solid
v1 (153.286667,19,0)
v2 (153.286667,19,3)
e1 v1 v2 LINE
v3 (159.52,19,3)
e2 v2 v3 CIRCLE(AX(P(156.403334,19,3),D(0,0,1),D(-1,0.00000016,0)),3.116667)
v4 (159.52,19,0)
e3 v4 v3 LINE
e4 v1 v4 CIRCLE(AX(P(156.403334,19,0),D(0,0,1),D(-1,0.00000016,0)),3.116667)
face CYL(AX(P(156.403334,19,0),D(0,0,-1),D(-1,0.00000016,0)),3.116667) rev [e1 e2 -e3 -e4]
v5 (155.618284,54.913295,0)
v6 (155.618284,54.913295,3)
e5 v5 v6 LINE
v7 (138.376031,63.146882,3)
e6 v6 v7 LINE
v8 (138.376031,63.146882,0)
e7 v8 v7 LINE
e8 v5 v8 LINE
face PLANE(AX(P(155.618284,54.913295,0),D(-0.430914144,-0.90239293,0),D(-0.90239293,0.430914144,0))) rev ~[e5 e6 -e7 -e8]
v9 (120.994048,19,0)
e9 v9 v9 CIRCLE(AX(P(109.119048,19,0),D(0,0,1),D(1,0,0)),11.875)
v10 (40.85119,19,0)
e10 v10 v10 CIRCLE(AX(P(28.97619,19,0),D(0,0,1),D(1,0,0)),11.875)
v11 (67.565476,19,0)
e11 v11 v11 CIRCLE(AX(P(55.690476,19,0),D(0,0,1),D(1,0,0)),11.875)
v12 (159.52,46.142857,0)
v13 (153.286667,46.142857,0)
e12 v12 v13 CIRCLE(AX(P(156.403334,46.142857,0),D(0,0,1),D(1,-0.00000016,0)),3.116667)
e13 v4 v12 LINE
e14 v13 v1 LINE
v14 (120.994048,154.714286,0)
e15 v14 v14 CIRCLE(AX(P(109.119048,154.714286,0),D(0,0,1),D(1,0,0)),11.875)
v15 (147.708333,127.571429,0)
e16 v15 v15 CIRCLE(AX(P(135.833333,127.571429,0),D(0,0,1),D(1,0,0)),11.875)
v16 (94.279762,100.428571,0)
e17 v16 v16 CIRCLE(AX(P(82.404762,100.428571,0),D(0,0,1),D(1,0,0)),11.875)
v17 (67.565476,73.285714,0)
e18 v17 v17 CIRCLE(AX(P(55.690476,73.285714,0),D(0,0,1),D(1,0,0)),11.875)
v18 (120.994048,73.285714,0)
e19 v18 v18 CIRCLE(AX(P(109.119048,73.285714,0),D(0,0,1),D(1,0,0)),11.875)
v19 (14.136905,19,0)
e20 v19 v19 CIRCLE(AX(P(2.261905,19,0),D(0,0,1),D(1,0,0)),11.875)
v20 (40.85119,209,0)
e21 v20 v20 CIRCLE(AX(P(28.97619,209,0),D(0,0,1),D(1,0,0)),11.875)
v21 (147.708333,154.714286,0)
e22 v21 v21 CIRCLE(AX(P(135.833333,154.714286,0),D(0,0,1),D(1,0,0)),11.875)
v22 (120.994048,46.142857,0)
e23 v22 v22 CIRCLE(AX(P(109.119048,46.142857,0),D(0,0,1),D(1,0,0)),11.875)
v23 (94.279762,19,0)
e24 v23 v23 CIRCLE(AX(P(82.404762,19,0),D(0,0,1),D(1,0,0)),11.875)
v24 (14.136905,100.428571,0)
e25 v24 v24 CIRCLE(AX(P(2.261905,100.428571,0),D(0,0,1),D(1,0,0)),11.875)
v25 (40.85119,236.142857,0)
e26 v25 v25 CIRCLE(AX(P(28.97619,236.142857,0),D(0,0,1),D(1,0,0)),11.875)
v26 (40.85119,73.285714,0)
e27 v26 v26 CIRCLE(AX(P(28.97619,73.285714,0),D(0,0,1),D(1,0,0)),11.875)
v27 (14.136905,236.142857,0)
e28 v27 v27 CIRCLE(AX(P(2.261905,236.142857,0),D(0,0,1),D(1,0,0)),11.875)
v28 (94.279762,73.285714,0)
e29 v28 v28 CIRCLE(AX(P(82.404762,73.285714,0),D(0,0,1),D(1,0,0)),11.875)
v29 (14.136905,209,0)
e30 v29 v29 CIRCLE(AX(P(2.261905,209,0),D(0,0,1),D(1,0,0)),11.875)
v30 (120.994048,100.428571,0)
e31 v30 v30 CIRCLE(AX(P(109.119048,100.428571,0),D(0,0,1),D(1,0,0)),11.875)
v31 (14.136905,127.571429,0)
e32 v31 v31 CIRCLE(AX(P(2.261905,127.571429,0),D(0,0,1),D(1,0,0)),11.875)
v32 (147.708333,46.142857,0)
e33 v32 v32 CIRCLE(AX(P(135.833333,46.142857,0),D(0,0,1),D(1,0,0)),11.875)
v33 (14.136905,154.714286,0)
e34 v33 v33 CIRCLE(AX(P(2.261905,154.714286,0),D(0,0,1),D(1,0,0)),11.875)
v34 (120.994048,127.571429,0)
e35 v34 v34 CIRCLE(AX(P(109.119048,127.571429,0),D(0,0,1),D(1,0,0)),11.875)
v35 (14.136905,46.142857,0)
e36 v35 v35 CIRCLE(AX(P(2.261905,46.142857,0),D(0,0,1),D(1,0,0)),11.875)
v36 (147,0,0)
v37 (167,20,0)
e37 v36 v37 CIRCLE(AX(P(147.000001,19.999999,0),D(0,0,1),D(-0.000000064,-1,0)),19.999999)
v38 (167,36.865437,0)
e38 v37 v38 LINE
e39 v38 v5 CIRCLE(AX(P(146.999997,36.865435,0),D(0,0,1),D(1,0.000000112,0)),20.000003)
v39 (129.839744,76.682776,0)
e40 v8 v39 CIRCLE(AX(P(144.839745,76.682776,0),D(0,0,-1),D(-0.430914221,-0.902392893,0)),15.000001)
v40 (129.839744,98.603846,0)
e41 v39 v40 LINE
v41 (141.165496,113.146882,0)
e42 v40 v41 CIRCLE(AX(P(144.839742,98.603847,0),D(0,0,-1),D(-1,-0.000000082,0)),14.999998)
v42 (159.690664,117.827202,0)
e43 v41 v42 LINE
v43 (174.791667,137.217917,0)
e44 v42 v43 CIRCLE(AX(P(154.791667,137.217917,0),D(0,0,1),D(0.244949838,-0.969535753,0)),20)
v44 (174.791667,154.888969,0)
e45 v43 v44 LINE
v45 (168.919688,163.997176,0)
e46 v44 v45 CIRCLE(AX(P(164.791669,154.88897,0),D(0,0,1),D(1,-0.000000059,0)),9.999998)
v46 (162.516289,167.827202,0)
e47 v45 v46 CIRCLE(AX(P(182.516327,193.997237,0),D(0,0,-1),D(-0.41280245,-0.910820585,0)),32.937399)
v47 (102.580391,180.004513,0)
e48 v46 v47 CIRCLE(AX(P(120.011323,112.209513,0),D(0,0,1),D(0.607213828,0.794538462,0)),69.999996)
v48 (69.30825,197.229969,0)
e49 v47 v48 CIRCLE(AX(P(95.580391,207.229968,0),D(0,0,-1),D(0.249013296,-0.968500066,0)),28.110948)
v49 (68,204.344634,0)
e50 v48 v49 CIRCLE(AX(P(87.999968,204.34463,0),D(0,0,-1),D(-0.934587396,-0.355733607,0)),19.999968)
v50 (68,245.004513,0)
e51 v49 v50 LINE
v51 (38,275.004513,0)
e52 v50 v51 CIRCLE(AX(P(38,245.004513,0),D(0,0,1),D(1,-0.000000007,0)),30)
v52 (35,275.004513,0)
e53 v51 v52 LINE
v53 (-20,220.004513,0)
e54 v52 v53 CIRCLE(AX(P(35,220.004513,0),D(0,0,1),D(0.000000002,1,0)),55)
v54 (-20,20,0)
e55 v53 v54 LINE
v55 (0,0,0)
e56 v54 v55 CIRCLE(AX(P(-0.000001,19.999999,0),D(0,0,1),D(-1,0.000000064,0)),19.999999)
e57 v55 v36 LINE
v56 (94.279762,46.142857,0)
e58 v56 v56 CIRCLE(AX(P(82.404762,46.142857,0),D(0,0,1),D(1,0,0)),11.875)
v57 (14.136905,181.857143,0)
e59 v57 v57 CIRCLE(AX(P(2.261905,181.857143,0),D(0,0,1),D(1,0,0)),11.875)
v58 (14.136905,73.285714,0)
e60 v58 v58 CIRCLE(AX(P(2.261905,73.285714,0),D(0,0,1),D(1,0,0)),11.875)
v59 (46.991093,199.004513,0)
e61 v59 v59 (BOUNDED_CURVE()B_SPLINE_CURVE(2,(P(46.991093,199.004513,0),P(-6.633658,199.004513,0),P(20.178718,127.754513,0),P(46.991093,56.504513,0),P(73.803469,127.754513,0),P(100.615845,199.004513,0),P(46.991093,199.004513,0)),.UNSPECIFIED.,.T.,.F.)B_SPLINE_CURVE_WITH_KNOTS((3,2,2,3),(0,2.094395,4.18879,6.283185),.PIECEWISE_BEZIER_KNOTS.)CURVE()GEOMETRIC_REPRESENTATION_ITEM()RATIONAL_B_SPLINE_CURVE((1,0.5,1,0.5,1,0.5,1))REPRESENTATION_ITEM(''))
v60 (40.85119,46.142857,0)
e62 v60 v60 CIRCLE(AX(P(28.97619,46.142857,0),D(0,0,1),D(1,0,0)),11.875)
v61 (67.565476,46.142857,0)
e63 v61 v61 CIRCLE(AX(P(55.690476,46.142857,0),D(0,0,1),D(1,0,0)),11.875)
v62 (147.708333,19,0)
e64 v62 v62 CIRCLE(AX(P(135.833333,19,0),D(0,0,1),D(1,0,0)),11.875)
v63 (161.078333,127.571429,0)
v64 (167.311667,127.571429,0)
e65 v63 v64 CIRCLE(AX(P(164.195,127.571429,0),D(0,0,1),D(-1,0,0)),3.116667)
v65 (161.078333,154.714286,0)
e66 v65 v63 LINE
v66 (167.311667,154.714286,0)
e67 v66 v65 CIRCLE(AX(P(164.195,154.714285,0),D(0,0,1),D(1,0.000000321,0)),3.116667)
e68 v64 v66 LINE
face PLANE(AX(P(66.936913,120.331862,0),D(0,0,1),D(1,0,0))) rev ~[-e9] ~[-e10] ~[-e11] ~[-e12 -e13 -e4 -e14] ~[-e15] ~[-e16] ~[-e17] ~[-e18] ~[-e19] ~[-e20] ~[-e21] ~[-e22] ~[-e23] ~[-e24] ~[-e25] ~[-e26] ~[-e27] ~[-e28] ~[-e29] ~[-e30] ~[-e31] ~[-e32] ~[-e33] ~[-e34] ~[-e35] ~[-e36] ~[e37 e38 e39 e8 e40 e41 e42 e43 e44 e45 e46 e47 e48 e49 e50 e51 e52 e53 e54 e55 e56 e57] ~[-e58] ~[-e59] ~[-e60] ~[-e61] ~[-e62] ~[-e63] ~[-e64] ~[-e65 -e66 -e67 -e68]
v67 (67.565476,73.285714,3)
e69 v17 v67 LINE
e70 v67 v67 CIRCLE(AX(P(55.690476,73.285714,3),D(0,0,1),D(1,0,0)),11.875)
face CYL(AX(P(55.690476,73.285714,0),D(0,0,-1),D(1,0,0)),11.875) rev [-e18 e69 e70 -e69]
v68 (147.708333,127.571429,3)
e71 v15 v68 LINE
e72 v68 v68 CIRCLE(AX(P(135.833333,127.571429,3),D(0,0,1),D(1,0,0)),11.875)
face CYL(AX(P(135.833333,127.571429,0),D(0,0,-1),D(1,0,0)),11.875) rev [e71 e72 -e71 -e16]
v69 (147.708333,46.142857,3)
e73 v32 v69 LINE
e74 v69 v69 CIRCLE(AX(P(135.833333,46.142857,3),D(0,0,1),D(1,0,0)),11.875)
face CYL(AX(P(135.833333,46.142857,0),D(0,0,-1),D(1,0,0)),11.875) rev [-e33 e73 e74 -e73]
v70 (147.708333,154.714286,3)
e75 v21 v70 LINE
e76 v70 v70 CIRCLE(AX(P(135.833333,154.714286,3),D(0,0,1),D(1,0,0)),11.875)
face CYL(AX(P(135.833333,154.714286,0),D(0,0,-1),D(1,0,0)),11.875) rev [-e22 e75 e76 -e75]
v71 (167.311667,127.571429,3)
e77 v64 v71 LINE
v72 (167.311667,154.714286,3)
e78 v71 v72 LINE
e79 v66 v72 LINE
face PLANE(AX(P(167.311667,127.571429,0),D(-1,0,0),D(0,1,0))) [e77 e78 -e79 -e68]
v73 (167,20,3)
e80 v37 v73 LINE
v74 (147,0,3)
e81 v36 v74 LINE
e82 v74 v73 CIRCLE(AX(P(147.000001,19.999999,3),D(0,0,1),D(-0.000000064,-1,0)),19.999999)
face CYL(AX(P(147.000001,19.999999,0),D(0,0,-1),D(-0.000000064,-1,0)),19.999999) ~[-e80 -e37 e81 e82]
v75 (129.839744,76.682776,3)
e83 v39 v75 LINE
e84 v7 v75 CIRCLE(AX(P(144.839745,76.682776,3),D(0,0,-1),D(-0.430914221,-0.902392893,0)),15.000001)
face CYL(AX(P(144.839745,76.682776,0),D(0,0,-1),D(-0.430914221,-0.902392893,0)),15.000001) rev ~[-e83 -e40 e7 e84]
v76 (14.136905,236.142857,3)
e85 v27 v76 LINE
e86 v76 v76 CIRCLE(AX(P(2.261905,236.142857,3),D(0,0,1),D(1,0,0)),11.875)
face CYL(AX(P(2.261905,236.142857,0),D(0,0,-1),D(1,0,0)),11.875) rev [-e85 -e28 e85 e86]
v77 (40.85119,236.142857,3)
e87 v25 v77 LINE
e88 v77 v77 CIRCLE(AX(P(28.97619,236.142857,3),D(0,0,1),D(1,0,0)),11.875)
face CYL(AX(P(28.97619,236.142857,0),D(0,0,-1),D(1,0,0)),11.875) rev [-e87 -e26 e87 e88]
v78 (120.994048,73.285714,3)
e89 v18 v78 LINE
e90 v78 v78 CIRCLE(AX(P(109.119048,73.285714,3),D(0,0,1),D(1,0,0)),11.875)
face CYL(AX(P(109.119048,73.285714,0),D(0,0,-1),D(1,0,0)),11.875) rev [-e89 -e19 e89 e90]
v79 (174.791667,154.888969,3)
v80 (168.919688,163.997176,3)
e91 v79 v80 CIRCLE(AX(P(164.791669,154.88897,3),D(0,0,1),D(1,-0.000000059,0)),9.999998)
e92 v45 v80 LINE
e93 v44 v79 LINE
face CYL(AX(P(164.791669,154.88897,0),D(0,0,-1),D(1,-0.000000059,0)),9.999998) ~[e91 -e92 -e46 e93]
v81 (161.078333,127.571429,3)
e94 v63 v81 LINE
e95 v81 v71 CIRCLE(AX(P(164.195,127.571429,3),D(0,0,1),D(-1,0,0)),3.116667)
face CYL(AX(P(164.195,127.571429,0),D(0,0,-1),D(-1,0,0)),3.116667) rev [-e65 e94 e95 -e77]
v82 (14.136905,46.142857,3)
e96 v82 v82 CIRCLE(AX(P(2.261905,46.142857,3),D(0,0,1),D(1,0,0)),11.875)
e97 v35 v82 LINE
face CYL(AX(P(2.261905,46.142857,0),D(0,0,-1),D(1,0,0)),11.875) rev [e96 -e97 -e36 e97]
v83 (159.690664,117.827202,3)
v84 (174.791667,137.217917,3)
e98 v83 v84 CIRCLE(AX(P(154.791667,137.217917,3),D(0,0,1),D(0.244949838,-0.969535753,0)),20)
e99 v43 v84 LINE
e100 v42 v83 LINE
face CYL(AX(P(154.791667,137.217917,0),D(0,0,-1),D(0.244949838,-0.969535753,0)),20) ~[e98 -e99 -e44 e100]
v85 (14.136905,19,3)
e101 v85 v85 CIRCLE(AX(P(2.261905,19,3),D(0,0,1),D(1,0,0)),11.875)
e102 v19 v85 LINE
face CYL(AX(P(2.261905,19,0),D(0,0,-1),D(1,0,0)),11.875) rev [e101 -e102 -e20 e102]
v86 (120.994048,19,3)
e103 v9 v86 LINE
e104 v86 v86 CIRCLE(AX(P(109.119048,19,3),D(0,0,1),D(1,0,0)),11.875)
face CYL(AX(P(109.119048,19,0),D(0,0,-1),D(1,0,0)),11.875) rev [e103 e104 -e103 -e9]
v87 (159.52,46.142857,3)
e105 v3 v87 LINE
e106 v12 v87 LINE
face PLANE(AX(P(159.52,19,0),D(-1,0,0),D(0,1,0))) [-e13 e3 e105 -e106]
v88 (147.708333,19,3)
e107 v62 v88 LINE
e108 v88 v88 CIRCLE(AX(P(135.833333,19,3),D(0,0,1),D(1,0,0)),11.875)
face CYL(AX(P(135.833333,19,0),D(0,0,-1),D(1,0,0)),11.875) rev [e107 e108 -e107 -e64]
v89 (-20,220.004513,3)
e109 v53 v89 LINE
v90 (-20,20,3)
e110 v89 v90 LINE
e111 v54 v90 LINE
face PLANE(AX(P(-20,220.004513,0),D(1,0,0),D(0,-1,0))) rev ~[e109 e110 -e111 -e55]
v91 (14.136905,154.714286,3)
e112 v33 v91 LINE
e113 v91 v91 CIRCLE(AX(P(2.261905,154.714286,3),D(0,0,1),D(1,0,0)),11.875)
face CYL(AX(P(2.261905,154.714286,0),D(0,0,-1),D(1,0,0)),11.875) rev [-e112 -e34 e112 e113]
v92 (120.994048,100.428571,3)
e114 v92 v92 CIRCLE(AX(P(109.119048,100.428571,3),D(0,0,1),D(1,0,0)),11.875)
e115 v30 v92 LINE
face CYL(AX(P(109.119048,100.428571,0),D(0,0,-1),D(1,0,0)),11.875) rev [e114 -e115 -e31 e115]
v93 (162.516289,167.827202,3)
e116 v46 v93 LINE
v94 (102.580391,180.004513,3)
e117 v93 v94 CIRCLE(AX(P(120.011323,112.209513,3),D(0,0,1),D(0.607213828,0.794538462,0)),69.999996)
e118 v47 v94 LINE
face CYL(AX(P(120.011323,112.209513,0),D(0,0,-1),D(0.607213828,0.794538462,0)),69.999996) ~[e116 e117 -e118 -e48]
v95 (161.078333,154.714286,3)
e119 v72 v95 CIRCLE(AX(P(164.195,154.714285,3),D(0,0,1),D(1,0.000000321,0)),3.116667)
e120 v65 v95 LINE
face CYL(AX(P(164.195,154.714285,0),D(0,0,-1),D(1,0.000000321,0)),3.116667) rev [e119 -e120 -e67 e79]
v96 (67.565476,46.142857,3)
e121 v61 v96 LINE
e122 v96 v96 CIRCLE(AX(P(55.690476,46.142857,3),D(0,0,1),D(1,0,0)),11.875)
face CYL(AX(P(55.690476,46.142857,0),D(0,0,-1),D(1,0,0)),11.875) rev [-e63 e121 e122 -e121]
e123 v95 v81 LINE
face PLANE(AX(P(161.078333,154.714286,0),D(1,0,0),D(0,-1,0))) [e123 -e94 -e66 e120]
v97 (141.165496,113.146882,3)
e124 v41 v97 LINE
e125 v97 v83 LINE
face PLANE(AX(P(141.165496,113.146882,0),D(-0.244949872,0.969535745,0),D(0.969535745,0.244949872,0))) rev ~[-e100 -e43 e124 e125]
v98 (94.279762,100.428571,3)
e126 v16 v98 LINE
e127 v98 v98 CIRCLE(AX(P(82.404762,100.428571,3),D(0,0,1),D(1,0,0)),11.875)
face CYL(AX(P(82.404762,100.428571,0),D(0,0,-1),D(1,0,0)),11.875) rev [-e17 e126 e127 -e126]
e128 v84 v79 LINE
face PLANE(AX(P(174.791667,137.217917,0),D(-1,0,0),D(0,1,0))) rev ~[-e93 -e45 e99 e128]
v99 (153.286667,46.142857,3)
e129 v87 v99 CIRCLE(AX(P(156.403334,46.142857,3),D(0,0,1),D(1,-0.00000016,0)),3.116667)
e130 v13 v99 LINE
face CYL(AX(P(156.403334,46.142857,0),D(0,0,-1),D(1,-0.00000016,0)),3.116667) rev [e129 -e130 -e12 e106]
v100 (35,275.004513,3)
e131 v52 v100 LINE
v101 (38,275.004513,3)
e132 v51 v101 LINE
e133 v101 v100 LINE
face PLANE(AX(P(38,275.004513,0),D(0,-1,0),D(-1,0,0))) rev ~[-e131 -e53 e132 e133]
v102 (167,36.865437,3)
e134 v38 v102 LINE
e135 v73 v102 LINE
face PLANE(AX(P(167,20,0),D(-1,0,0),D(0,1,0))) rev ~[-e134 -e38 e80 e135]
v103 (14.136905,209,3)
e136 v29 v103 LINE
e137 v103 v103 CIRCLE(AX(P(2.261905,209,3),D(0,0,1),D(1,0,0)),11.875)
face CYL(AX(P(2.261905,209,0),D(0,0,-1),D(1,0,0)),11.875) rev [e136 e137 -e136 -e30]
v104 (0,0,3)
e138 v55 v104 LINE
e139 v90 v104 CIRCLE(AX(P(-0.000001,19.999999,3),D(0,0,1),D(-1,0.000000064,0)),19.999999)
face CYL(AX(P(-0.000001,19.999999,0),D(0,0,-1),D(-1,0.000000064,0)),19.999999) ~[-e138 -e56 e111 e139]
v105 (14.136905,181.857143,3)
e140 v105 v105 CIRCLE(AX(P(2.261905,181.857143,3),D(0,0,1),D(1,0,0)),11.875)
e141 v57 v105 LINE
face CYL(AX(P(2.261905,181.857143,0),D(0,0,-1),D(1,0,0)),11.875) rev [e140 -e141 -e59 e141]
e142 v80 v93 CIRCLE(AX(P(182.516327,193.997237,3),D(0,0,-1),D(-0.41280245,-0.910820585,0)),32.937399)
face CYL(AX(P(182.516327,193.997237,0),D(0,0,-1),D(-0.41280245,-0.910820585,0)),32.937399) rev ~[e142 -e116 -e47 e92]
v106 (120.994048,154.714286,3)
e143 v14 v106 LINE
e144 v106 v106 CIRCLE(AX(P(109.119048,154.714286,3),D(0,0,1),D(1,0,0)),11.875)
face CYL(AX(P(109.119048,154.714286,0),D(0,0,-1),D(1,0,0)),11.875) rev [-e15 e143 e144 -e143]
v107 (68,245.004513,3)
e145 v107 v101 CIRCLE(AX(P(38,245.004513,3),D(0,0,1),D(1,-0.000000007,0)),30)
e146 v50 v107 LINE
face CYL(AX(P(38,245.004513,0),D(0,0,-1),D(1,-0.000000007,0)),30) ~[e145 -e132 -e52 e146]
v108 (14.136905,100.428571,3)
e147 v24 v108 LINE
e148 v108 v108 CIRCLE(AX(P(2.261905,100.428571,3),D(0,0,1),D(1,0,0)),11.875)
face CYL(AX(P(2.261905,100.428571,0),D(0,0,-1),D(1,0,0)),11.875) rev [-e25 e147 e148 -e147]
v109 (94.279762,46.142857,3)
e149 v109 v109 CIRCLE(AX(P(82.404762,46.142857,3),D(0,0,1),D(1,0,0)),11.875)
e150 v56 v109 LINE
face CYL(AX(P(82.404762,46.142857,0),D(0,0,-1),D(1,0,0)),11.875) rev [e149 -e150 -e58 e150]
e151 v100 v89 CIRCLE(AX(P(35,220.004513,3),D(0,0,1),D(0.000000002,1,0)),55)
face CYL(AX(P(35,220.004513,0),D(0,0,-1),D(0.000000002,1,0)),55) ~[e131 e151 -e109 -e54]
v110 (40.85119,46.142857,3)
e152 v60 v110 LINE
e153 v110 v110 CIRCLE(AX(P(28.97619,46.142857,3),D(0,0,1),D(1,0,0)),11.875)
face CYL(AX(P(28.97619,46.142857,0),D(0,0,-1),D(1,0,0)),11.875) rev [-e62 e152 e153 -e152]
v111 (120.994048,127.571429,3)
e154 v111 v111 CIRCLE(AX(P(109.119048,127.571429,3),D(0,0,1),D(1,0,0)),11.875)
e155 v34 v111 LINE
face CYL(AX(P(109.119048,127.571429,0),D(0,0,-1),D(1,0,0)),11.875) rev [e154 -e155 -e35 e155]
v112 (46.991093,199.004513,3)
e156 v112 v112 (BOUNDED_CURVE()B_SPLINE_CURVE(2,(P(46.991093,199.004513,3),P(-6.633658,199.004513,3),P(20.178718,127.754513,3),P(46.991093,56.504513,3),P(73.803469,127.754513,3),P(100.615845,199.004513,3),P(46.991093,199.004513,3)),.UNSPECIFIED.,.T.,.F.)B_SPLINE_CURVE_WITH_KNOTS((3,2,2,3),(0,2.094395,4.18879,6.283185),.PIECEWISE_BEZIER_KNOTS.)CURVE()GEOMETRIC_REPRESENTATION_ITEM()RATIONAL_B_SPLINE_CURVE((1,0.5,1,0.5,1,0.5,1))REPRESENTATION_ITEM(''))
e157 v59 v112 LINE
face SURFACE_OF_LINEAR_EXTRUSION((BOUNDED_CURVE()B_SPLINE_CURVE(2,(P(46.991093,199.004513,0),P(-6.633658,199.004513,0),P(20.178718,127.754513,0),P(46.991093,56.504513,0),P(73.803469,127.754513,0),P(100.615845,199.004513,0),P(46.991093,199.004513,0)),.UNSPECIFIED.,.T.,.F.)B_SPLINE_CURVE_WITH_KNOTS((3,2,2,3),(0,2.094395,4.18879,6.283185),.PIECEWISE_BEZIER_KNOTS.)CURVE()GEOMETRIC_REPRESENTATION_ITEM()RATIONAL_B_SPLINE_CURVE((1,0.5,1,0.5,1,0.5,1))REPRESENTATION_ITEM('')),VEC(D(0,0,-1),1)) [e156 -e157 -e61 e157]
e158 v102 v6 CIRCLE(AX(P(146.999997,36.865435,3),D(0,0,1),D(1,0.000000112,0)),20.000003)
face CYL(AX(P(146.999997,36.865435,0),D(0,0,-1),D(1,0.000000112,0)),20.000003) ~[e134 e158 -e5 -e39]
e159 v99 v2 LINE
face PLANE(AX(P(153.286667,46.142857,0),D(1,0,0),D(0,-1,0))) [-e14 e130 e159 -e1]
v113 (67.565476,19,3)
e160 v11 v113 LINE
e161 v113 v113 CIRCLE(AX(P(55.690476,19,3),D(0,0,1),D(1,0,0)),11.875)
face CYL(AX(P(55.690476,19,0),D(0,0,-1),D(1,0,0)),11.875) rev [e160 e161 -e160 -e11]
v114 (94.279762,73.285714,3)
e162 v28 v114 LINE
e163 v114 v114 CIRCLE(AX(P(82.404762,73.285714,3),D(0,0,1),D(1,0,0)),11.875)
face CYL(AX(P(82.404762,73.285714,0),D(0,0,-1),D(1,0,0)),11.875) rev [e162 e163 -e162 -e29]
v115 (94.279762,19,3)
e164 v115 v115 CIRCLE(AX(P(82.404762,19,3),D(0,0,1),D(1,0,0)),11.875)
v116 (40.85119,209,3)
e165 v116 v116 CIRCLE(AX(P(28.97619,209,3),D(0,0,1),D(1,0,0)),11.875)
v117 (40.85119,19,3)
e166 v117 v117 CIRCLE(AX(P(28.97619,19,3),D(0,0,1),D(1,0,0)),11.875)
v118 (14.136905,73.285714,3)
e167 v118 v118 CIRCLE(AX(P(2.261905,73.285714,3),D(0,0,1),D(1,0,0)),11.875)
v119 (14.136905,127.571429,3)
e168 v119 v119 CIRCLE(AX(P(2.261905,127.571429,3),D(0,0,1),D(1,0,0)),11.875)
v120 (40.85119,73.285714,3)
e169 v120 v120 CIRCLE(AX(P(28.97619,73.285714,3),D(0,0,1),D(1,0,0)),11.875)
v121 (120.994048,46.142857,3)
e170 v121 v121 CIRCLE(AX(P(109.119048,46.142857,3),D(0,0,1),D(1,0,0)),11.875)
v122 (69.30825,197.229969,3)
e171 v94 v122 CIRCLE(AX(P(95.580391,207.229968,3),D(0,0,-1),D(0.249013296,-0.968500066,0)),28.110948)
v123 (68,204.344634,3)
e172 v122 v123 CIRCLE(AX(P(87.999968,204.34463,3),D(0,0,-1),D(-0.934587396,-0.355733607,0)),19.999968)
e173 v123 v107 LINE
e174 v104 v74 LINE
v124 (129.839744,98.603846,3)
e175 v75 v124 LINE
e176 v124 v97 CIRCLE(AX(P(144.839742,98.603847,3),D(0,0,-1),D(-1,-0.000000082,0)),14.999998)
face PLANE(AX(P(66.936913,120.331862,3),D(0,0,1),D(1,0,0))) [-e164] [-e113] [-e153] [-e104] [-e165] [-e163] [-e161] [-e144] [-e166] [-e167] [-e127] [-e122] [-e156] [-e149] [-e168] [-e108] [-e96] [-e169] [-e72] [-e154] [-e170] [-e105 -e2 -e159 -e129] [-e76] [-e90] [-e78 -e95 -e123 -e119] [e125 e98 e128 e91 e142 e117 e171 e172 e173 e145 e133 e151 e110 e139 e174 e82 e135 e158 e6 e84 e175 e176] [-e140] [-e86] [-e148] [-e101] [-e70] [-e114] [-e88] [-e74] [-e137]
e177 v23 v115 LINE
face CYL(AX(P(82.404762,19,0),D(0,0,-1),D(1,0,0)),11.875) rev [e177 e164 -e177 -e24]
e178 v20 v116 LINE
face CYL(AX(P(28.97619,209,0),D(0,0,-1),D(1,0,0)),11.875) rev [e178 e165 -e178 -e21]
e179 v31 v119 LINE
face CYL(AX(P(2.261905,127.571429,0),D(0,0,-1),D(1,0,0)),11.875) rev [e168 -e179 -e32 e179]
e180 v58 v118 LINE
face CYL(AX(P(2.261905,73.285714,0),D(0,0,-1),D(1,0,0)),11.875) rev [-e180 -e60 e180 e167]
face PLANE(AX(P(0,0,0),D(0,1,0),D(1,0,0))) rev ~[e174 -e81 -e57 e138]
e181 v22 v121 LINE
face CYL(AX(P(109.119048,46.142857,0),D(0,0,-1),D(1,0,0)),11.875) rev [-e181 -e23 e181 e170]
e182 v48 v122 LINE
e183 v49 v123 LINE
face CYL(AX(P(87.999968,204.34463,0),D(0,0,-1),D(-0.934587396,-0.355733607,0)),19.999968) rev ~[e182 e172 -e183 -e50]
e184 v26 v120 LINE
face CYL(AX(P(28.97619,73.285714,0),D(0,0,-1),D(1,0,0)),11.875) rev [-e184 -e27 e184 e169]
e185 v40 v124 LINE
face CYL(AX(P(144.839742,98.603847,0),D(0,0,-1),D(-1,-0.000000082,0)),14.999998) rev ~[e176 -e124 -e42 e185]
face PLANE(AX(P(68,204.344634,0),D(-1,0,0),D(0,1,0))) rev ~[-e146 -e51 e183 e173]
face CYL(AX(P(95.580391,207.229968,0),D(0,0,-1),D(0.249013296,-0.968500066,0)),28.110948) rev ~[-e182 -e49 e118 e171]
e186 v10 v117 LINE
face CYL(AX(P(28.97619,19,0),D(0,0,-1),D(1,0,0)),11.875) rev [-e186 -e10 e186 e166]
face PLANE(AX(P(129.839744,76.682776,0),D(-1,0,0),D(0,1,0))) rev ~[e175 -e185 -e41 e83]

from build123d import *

# Parameters (mm, degrees)
SKETCH_R  = 11.875
PAD_DEPTH = 3


with BuildPart() as part:
    # Sketch → Pad (new body)
    with BuildSketch(Plane.XY):
        with BuildLine():
            ThreePointArc((-20, 20), (-14.142136, 5.857864), (0, 0))
            Line((0, 0), (147, 0))
            ThreePointArc((147, 0), (161.142136, 5.857864), (167, 20))
            Line((167, 20), (167, 36.865437))
            ThreePointArc((167, 36.865437), (163.916939, 47.533949), (155.618284, 54.913295))
            Line((155.618284, 54.913295), (138.376031, 63.146882))
            ThreePointArc((138.376031, 63.146882), (132.152039, 68.681392), (129.839744, 76.682776))
            Line((129.839744, 76.682776), (129.839744, 98.603846))
            ThreePointArc((129.839744, 98.603846), (133.005182, 107.820307), (141.165496, 113.146882))
            Line((141.165496, 113.146882), (159.690664, 117.827202))
            ThreePointArc((159.690664, 117.827202), (170.571083, 124.929303), (174.791667, 137.217917))
            Line((174.791667, 137.217917), (174.791667, 154.888969))
            ThreePointArc((174.791667, 154.888969), (173.196434, 160.307446), (168.919688, 163.997176))
            ThreePointArc((168.919688, 163.997176), (165.609185, 165.730281), (162.516289, 167.827202))
            ThreePointArc((162.516289, 167.827202), (133.94863, 180.807989), (102.580391, 180.004513))
            ThreePointArc((102.580391, 180.004513), (82.656269, 182.266145), (69.30825, 197.229969))
            ThreePointArc((69.30825, 197.229969), (68.329781, 200.727661), (68, 204.344634))
            Line((68, 204.344634), (68, 245.004513))
            ThreePointArc((68, 245.004513), (59.213203, 266.217717), (38, 275.004513))
            Line((38, 275.004513), (35, 275.004513))
            ThreePointArc((35, 275.004513), (-3.890873, 258.895386), (-20, 220.004513))
            Line((-20, 220.004513), (-20, 20))
        make_face()
        with BuildLine():
            add(Edge.make_bspline(
                [(46.991093, 199.004513), (-6.633658, 199.004513), (20.178718, 127.754513), (46.991093, 56.504513), (73.803469, 127.754513), (100.615845, 199.004513), (46.991093, 199.004513)],
                knots=[0, 0, 0, 2.094395, 2.094395, 4.18879, 4.18879, 6.283185, 6.283185, 6.283185], degree=2, weights=[1, 0.5, 1, 0.5, 1, 0.5, 1]))
        make_face(mode=Mode.SUBTRACT)
        with Locations((2.261905, 46.142857)):
            Circle(SKETCH_R, mode=Mode.SUBTRACT)
        with Locations((28.97619, 46.142857)):
            Circle(SKETCH_R, mode=Mode.SUBTRACT)
        with Locations((55.690476, 46.142857)):
            Circle(SKETCH_R, mode=Mode.SUBTRACT)
        with Locations((82.404762, 46.142857)):
            Circle(SKETCH_R, mode=Mode.SUBTRACT)
        with Locations((109.119048, 46.142857)):
            Circle(SKETCH_R, mode=Mode.SUBTRACT)
        with Locations((2.261905, 19)):
            Circle(SKETCH_R, mode=Mode.SUBTRACT)
        with Locations((28.97619, 19)):
            Circle(SKETCH_R, mode=Mode.SUBTRACT)
        with Locations((55.690476, 19)):
            Circle(SKETCH_R, mode=Mode.SUBTRACT)
        with Locations((82.404762, 19)):
            Circle(SKETCH_R, mode=Mode.SUBTRACT)
        with Locations((109.119048, 19)):
            Circle(SKETCH_R, mode=Mode.SUBTRACT)
        with Locations((135.833333, 46.142857)):
            Circle(SKETCH_R, mode=Mode.SUBTRACT)
        with Locations((135.833333, 19)):
            Circle(SKETCH_R, mode=Mode.SUBTRACT)
        with Locations((2.261905, 73.285714)):
            Circle(SKETCH_R, mode=Mode.SUBTRACT)
        with Locations((28.97619, 73.285714)):
            Circle(SKETCH_R, mode=Mode.SUBTRACT)
        with Locations((55.690476, 73.285714)):
            Circle(SKETCH_R, mode=Mode.SUBTRACT)
        with Locations((82.404762, 73.285714)):
            Circle(SKETCH_R, mode=Mode.SUBTRACT)
        with Locations((109.119048, 73.285714)):
            Circle(SKETCH_R, mode=Mode.SUBTRACT)
        with Locations((2.261905, 100.428571)):
            Circle(SKETCH_R, mode=Mode.SUBTRACT)
        with Locations((109.119048, 127.571429)):
            Circle(SKETCH_R, mode=Mode.SUBTRACT)
        with Locations((2.261905, 127.571429)):
            Circle(SKETCH_R, mode=Mode.SUBTRACT)
        with Locations((2.261905, 154.714286)):
            Circle(SKETCH_R, mode=Mode.SUBTRACT)
        with Locations((109.119048, 154.714286)):
            Circle(SKETCH_R, mode=Mode.SUBTRACT)
        with Locations((135.833333, 154.714286)):
            Circle(SKETCH_R, mode=Mode.SUBTRACT)
        with Locations((135.833333, 127.571429)):
            Circle(SKETCH_R, mode=Mode.SUBTRACT)
        with Locations((82.404762, 100.428571)):
            Circle(SKETCH_R, mode=Mode.SUBTRACT)
        with Locations((109.119048, 100.428571)):
            Circle(SKETCH_R, mode=Mode.SUBTRACT)
        with Locations((2.261905, 181.857143)):
            Circle(SKETCH_R, mode=Mode.SUBTRACT)
        with Locations((2.261905, 209)):
            Circle(SKETCH_R, mode=Mode.SUBTRACT)
        with Locations((28.97619, 209)):
            Circle(SKETCH_R, mode=Mode.SUBTRACT)
        with Locations((2.261905, 236.142857)):
            Circle(SKETCH_R, mode=Mode.SUBTRACT)
        with Locations((28.97619, 236.142857)):
            Circle(SKETCH_R, mode=Mode.SUBTRACT)
        with BuildLine():
            ThreePointArc((159.52, 46.142857), (156.403333, 49.259524), (153.286667, 46.142857))
            Line((153.286667, 46.142857), (153.286667, 19))
            ThreePointArc((153.286667, 19), (156.403333, 15.883333), (159.52, 19))
            Line((159.52, 19), (159.52, 46.142857))
        make_face(mode=Mode.SUBTRACT)
        with BuildLine():
            ThreePointArc((167.311667, 154.714286), (164.195, 157.830952), (161.078333, 154.714286))
            Line((161.078333, 154.714286), (161.078333, 127.571429))
            ThreePointArc((161.078333, 127.571429), (164.195, 124.454762), (167.311667, 127.571429))
            Line((167.311667, 127.571429), (167.311667, 154.714286))
        make_face(mode=Mode.SUBTRACT)
    extrude(amount=PAD_DEPTH)


solid = part.part
